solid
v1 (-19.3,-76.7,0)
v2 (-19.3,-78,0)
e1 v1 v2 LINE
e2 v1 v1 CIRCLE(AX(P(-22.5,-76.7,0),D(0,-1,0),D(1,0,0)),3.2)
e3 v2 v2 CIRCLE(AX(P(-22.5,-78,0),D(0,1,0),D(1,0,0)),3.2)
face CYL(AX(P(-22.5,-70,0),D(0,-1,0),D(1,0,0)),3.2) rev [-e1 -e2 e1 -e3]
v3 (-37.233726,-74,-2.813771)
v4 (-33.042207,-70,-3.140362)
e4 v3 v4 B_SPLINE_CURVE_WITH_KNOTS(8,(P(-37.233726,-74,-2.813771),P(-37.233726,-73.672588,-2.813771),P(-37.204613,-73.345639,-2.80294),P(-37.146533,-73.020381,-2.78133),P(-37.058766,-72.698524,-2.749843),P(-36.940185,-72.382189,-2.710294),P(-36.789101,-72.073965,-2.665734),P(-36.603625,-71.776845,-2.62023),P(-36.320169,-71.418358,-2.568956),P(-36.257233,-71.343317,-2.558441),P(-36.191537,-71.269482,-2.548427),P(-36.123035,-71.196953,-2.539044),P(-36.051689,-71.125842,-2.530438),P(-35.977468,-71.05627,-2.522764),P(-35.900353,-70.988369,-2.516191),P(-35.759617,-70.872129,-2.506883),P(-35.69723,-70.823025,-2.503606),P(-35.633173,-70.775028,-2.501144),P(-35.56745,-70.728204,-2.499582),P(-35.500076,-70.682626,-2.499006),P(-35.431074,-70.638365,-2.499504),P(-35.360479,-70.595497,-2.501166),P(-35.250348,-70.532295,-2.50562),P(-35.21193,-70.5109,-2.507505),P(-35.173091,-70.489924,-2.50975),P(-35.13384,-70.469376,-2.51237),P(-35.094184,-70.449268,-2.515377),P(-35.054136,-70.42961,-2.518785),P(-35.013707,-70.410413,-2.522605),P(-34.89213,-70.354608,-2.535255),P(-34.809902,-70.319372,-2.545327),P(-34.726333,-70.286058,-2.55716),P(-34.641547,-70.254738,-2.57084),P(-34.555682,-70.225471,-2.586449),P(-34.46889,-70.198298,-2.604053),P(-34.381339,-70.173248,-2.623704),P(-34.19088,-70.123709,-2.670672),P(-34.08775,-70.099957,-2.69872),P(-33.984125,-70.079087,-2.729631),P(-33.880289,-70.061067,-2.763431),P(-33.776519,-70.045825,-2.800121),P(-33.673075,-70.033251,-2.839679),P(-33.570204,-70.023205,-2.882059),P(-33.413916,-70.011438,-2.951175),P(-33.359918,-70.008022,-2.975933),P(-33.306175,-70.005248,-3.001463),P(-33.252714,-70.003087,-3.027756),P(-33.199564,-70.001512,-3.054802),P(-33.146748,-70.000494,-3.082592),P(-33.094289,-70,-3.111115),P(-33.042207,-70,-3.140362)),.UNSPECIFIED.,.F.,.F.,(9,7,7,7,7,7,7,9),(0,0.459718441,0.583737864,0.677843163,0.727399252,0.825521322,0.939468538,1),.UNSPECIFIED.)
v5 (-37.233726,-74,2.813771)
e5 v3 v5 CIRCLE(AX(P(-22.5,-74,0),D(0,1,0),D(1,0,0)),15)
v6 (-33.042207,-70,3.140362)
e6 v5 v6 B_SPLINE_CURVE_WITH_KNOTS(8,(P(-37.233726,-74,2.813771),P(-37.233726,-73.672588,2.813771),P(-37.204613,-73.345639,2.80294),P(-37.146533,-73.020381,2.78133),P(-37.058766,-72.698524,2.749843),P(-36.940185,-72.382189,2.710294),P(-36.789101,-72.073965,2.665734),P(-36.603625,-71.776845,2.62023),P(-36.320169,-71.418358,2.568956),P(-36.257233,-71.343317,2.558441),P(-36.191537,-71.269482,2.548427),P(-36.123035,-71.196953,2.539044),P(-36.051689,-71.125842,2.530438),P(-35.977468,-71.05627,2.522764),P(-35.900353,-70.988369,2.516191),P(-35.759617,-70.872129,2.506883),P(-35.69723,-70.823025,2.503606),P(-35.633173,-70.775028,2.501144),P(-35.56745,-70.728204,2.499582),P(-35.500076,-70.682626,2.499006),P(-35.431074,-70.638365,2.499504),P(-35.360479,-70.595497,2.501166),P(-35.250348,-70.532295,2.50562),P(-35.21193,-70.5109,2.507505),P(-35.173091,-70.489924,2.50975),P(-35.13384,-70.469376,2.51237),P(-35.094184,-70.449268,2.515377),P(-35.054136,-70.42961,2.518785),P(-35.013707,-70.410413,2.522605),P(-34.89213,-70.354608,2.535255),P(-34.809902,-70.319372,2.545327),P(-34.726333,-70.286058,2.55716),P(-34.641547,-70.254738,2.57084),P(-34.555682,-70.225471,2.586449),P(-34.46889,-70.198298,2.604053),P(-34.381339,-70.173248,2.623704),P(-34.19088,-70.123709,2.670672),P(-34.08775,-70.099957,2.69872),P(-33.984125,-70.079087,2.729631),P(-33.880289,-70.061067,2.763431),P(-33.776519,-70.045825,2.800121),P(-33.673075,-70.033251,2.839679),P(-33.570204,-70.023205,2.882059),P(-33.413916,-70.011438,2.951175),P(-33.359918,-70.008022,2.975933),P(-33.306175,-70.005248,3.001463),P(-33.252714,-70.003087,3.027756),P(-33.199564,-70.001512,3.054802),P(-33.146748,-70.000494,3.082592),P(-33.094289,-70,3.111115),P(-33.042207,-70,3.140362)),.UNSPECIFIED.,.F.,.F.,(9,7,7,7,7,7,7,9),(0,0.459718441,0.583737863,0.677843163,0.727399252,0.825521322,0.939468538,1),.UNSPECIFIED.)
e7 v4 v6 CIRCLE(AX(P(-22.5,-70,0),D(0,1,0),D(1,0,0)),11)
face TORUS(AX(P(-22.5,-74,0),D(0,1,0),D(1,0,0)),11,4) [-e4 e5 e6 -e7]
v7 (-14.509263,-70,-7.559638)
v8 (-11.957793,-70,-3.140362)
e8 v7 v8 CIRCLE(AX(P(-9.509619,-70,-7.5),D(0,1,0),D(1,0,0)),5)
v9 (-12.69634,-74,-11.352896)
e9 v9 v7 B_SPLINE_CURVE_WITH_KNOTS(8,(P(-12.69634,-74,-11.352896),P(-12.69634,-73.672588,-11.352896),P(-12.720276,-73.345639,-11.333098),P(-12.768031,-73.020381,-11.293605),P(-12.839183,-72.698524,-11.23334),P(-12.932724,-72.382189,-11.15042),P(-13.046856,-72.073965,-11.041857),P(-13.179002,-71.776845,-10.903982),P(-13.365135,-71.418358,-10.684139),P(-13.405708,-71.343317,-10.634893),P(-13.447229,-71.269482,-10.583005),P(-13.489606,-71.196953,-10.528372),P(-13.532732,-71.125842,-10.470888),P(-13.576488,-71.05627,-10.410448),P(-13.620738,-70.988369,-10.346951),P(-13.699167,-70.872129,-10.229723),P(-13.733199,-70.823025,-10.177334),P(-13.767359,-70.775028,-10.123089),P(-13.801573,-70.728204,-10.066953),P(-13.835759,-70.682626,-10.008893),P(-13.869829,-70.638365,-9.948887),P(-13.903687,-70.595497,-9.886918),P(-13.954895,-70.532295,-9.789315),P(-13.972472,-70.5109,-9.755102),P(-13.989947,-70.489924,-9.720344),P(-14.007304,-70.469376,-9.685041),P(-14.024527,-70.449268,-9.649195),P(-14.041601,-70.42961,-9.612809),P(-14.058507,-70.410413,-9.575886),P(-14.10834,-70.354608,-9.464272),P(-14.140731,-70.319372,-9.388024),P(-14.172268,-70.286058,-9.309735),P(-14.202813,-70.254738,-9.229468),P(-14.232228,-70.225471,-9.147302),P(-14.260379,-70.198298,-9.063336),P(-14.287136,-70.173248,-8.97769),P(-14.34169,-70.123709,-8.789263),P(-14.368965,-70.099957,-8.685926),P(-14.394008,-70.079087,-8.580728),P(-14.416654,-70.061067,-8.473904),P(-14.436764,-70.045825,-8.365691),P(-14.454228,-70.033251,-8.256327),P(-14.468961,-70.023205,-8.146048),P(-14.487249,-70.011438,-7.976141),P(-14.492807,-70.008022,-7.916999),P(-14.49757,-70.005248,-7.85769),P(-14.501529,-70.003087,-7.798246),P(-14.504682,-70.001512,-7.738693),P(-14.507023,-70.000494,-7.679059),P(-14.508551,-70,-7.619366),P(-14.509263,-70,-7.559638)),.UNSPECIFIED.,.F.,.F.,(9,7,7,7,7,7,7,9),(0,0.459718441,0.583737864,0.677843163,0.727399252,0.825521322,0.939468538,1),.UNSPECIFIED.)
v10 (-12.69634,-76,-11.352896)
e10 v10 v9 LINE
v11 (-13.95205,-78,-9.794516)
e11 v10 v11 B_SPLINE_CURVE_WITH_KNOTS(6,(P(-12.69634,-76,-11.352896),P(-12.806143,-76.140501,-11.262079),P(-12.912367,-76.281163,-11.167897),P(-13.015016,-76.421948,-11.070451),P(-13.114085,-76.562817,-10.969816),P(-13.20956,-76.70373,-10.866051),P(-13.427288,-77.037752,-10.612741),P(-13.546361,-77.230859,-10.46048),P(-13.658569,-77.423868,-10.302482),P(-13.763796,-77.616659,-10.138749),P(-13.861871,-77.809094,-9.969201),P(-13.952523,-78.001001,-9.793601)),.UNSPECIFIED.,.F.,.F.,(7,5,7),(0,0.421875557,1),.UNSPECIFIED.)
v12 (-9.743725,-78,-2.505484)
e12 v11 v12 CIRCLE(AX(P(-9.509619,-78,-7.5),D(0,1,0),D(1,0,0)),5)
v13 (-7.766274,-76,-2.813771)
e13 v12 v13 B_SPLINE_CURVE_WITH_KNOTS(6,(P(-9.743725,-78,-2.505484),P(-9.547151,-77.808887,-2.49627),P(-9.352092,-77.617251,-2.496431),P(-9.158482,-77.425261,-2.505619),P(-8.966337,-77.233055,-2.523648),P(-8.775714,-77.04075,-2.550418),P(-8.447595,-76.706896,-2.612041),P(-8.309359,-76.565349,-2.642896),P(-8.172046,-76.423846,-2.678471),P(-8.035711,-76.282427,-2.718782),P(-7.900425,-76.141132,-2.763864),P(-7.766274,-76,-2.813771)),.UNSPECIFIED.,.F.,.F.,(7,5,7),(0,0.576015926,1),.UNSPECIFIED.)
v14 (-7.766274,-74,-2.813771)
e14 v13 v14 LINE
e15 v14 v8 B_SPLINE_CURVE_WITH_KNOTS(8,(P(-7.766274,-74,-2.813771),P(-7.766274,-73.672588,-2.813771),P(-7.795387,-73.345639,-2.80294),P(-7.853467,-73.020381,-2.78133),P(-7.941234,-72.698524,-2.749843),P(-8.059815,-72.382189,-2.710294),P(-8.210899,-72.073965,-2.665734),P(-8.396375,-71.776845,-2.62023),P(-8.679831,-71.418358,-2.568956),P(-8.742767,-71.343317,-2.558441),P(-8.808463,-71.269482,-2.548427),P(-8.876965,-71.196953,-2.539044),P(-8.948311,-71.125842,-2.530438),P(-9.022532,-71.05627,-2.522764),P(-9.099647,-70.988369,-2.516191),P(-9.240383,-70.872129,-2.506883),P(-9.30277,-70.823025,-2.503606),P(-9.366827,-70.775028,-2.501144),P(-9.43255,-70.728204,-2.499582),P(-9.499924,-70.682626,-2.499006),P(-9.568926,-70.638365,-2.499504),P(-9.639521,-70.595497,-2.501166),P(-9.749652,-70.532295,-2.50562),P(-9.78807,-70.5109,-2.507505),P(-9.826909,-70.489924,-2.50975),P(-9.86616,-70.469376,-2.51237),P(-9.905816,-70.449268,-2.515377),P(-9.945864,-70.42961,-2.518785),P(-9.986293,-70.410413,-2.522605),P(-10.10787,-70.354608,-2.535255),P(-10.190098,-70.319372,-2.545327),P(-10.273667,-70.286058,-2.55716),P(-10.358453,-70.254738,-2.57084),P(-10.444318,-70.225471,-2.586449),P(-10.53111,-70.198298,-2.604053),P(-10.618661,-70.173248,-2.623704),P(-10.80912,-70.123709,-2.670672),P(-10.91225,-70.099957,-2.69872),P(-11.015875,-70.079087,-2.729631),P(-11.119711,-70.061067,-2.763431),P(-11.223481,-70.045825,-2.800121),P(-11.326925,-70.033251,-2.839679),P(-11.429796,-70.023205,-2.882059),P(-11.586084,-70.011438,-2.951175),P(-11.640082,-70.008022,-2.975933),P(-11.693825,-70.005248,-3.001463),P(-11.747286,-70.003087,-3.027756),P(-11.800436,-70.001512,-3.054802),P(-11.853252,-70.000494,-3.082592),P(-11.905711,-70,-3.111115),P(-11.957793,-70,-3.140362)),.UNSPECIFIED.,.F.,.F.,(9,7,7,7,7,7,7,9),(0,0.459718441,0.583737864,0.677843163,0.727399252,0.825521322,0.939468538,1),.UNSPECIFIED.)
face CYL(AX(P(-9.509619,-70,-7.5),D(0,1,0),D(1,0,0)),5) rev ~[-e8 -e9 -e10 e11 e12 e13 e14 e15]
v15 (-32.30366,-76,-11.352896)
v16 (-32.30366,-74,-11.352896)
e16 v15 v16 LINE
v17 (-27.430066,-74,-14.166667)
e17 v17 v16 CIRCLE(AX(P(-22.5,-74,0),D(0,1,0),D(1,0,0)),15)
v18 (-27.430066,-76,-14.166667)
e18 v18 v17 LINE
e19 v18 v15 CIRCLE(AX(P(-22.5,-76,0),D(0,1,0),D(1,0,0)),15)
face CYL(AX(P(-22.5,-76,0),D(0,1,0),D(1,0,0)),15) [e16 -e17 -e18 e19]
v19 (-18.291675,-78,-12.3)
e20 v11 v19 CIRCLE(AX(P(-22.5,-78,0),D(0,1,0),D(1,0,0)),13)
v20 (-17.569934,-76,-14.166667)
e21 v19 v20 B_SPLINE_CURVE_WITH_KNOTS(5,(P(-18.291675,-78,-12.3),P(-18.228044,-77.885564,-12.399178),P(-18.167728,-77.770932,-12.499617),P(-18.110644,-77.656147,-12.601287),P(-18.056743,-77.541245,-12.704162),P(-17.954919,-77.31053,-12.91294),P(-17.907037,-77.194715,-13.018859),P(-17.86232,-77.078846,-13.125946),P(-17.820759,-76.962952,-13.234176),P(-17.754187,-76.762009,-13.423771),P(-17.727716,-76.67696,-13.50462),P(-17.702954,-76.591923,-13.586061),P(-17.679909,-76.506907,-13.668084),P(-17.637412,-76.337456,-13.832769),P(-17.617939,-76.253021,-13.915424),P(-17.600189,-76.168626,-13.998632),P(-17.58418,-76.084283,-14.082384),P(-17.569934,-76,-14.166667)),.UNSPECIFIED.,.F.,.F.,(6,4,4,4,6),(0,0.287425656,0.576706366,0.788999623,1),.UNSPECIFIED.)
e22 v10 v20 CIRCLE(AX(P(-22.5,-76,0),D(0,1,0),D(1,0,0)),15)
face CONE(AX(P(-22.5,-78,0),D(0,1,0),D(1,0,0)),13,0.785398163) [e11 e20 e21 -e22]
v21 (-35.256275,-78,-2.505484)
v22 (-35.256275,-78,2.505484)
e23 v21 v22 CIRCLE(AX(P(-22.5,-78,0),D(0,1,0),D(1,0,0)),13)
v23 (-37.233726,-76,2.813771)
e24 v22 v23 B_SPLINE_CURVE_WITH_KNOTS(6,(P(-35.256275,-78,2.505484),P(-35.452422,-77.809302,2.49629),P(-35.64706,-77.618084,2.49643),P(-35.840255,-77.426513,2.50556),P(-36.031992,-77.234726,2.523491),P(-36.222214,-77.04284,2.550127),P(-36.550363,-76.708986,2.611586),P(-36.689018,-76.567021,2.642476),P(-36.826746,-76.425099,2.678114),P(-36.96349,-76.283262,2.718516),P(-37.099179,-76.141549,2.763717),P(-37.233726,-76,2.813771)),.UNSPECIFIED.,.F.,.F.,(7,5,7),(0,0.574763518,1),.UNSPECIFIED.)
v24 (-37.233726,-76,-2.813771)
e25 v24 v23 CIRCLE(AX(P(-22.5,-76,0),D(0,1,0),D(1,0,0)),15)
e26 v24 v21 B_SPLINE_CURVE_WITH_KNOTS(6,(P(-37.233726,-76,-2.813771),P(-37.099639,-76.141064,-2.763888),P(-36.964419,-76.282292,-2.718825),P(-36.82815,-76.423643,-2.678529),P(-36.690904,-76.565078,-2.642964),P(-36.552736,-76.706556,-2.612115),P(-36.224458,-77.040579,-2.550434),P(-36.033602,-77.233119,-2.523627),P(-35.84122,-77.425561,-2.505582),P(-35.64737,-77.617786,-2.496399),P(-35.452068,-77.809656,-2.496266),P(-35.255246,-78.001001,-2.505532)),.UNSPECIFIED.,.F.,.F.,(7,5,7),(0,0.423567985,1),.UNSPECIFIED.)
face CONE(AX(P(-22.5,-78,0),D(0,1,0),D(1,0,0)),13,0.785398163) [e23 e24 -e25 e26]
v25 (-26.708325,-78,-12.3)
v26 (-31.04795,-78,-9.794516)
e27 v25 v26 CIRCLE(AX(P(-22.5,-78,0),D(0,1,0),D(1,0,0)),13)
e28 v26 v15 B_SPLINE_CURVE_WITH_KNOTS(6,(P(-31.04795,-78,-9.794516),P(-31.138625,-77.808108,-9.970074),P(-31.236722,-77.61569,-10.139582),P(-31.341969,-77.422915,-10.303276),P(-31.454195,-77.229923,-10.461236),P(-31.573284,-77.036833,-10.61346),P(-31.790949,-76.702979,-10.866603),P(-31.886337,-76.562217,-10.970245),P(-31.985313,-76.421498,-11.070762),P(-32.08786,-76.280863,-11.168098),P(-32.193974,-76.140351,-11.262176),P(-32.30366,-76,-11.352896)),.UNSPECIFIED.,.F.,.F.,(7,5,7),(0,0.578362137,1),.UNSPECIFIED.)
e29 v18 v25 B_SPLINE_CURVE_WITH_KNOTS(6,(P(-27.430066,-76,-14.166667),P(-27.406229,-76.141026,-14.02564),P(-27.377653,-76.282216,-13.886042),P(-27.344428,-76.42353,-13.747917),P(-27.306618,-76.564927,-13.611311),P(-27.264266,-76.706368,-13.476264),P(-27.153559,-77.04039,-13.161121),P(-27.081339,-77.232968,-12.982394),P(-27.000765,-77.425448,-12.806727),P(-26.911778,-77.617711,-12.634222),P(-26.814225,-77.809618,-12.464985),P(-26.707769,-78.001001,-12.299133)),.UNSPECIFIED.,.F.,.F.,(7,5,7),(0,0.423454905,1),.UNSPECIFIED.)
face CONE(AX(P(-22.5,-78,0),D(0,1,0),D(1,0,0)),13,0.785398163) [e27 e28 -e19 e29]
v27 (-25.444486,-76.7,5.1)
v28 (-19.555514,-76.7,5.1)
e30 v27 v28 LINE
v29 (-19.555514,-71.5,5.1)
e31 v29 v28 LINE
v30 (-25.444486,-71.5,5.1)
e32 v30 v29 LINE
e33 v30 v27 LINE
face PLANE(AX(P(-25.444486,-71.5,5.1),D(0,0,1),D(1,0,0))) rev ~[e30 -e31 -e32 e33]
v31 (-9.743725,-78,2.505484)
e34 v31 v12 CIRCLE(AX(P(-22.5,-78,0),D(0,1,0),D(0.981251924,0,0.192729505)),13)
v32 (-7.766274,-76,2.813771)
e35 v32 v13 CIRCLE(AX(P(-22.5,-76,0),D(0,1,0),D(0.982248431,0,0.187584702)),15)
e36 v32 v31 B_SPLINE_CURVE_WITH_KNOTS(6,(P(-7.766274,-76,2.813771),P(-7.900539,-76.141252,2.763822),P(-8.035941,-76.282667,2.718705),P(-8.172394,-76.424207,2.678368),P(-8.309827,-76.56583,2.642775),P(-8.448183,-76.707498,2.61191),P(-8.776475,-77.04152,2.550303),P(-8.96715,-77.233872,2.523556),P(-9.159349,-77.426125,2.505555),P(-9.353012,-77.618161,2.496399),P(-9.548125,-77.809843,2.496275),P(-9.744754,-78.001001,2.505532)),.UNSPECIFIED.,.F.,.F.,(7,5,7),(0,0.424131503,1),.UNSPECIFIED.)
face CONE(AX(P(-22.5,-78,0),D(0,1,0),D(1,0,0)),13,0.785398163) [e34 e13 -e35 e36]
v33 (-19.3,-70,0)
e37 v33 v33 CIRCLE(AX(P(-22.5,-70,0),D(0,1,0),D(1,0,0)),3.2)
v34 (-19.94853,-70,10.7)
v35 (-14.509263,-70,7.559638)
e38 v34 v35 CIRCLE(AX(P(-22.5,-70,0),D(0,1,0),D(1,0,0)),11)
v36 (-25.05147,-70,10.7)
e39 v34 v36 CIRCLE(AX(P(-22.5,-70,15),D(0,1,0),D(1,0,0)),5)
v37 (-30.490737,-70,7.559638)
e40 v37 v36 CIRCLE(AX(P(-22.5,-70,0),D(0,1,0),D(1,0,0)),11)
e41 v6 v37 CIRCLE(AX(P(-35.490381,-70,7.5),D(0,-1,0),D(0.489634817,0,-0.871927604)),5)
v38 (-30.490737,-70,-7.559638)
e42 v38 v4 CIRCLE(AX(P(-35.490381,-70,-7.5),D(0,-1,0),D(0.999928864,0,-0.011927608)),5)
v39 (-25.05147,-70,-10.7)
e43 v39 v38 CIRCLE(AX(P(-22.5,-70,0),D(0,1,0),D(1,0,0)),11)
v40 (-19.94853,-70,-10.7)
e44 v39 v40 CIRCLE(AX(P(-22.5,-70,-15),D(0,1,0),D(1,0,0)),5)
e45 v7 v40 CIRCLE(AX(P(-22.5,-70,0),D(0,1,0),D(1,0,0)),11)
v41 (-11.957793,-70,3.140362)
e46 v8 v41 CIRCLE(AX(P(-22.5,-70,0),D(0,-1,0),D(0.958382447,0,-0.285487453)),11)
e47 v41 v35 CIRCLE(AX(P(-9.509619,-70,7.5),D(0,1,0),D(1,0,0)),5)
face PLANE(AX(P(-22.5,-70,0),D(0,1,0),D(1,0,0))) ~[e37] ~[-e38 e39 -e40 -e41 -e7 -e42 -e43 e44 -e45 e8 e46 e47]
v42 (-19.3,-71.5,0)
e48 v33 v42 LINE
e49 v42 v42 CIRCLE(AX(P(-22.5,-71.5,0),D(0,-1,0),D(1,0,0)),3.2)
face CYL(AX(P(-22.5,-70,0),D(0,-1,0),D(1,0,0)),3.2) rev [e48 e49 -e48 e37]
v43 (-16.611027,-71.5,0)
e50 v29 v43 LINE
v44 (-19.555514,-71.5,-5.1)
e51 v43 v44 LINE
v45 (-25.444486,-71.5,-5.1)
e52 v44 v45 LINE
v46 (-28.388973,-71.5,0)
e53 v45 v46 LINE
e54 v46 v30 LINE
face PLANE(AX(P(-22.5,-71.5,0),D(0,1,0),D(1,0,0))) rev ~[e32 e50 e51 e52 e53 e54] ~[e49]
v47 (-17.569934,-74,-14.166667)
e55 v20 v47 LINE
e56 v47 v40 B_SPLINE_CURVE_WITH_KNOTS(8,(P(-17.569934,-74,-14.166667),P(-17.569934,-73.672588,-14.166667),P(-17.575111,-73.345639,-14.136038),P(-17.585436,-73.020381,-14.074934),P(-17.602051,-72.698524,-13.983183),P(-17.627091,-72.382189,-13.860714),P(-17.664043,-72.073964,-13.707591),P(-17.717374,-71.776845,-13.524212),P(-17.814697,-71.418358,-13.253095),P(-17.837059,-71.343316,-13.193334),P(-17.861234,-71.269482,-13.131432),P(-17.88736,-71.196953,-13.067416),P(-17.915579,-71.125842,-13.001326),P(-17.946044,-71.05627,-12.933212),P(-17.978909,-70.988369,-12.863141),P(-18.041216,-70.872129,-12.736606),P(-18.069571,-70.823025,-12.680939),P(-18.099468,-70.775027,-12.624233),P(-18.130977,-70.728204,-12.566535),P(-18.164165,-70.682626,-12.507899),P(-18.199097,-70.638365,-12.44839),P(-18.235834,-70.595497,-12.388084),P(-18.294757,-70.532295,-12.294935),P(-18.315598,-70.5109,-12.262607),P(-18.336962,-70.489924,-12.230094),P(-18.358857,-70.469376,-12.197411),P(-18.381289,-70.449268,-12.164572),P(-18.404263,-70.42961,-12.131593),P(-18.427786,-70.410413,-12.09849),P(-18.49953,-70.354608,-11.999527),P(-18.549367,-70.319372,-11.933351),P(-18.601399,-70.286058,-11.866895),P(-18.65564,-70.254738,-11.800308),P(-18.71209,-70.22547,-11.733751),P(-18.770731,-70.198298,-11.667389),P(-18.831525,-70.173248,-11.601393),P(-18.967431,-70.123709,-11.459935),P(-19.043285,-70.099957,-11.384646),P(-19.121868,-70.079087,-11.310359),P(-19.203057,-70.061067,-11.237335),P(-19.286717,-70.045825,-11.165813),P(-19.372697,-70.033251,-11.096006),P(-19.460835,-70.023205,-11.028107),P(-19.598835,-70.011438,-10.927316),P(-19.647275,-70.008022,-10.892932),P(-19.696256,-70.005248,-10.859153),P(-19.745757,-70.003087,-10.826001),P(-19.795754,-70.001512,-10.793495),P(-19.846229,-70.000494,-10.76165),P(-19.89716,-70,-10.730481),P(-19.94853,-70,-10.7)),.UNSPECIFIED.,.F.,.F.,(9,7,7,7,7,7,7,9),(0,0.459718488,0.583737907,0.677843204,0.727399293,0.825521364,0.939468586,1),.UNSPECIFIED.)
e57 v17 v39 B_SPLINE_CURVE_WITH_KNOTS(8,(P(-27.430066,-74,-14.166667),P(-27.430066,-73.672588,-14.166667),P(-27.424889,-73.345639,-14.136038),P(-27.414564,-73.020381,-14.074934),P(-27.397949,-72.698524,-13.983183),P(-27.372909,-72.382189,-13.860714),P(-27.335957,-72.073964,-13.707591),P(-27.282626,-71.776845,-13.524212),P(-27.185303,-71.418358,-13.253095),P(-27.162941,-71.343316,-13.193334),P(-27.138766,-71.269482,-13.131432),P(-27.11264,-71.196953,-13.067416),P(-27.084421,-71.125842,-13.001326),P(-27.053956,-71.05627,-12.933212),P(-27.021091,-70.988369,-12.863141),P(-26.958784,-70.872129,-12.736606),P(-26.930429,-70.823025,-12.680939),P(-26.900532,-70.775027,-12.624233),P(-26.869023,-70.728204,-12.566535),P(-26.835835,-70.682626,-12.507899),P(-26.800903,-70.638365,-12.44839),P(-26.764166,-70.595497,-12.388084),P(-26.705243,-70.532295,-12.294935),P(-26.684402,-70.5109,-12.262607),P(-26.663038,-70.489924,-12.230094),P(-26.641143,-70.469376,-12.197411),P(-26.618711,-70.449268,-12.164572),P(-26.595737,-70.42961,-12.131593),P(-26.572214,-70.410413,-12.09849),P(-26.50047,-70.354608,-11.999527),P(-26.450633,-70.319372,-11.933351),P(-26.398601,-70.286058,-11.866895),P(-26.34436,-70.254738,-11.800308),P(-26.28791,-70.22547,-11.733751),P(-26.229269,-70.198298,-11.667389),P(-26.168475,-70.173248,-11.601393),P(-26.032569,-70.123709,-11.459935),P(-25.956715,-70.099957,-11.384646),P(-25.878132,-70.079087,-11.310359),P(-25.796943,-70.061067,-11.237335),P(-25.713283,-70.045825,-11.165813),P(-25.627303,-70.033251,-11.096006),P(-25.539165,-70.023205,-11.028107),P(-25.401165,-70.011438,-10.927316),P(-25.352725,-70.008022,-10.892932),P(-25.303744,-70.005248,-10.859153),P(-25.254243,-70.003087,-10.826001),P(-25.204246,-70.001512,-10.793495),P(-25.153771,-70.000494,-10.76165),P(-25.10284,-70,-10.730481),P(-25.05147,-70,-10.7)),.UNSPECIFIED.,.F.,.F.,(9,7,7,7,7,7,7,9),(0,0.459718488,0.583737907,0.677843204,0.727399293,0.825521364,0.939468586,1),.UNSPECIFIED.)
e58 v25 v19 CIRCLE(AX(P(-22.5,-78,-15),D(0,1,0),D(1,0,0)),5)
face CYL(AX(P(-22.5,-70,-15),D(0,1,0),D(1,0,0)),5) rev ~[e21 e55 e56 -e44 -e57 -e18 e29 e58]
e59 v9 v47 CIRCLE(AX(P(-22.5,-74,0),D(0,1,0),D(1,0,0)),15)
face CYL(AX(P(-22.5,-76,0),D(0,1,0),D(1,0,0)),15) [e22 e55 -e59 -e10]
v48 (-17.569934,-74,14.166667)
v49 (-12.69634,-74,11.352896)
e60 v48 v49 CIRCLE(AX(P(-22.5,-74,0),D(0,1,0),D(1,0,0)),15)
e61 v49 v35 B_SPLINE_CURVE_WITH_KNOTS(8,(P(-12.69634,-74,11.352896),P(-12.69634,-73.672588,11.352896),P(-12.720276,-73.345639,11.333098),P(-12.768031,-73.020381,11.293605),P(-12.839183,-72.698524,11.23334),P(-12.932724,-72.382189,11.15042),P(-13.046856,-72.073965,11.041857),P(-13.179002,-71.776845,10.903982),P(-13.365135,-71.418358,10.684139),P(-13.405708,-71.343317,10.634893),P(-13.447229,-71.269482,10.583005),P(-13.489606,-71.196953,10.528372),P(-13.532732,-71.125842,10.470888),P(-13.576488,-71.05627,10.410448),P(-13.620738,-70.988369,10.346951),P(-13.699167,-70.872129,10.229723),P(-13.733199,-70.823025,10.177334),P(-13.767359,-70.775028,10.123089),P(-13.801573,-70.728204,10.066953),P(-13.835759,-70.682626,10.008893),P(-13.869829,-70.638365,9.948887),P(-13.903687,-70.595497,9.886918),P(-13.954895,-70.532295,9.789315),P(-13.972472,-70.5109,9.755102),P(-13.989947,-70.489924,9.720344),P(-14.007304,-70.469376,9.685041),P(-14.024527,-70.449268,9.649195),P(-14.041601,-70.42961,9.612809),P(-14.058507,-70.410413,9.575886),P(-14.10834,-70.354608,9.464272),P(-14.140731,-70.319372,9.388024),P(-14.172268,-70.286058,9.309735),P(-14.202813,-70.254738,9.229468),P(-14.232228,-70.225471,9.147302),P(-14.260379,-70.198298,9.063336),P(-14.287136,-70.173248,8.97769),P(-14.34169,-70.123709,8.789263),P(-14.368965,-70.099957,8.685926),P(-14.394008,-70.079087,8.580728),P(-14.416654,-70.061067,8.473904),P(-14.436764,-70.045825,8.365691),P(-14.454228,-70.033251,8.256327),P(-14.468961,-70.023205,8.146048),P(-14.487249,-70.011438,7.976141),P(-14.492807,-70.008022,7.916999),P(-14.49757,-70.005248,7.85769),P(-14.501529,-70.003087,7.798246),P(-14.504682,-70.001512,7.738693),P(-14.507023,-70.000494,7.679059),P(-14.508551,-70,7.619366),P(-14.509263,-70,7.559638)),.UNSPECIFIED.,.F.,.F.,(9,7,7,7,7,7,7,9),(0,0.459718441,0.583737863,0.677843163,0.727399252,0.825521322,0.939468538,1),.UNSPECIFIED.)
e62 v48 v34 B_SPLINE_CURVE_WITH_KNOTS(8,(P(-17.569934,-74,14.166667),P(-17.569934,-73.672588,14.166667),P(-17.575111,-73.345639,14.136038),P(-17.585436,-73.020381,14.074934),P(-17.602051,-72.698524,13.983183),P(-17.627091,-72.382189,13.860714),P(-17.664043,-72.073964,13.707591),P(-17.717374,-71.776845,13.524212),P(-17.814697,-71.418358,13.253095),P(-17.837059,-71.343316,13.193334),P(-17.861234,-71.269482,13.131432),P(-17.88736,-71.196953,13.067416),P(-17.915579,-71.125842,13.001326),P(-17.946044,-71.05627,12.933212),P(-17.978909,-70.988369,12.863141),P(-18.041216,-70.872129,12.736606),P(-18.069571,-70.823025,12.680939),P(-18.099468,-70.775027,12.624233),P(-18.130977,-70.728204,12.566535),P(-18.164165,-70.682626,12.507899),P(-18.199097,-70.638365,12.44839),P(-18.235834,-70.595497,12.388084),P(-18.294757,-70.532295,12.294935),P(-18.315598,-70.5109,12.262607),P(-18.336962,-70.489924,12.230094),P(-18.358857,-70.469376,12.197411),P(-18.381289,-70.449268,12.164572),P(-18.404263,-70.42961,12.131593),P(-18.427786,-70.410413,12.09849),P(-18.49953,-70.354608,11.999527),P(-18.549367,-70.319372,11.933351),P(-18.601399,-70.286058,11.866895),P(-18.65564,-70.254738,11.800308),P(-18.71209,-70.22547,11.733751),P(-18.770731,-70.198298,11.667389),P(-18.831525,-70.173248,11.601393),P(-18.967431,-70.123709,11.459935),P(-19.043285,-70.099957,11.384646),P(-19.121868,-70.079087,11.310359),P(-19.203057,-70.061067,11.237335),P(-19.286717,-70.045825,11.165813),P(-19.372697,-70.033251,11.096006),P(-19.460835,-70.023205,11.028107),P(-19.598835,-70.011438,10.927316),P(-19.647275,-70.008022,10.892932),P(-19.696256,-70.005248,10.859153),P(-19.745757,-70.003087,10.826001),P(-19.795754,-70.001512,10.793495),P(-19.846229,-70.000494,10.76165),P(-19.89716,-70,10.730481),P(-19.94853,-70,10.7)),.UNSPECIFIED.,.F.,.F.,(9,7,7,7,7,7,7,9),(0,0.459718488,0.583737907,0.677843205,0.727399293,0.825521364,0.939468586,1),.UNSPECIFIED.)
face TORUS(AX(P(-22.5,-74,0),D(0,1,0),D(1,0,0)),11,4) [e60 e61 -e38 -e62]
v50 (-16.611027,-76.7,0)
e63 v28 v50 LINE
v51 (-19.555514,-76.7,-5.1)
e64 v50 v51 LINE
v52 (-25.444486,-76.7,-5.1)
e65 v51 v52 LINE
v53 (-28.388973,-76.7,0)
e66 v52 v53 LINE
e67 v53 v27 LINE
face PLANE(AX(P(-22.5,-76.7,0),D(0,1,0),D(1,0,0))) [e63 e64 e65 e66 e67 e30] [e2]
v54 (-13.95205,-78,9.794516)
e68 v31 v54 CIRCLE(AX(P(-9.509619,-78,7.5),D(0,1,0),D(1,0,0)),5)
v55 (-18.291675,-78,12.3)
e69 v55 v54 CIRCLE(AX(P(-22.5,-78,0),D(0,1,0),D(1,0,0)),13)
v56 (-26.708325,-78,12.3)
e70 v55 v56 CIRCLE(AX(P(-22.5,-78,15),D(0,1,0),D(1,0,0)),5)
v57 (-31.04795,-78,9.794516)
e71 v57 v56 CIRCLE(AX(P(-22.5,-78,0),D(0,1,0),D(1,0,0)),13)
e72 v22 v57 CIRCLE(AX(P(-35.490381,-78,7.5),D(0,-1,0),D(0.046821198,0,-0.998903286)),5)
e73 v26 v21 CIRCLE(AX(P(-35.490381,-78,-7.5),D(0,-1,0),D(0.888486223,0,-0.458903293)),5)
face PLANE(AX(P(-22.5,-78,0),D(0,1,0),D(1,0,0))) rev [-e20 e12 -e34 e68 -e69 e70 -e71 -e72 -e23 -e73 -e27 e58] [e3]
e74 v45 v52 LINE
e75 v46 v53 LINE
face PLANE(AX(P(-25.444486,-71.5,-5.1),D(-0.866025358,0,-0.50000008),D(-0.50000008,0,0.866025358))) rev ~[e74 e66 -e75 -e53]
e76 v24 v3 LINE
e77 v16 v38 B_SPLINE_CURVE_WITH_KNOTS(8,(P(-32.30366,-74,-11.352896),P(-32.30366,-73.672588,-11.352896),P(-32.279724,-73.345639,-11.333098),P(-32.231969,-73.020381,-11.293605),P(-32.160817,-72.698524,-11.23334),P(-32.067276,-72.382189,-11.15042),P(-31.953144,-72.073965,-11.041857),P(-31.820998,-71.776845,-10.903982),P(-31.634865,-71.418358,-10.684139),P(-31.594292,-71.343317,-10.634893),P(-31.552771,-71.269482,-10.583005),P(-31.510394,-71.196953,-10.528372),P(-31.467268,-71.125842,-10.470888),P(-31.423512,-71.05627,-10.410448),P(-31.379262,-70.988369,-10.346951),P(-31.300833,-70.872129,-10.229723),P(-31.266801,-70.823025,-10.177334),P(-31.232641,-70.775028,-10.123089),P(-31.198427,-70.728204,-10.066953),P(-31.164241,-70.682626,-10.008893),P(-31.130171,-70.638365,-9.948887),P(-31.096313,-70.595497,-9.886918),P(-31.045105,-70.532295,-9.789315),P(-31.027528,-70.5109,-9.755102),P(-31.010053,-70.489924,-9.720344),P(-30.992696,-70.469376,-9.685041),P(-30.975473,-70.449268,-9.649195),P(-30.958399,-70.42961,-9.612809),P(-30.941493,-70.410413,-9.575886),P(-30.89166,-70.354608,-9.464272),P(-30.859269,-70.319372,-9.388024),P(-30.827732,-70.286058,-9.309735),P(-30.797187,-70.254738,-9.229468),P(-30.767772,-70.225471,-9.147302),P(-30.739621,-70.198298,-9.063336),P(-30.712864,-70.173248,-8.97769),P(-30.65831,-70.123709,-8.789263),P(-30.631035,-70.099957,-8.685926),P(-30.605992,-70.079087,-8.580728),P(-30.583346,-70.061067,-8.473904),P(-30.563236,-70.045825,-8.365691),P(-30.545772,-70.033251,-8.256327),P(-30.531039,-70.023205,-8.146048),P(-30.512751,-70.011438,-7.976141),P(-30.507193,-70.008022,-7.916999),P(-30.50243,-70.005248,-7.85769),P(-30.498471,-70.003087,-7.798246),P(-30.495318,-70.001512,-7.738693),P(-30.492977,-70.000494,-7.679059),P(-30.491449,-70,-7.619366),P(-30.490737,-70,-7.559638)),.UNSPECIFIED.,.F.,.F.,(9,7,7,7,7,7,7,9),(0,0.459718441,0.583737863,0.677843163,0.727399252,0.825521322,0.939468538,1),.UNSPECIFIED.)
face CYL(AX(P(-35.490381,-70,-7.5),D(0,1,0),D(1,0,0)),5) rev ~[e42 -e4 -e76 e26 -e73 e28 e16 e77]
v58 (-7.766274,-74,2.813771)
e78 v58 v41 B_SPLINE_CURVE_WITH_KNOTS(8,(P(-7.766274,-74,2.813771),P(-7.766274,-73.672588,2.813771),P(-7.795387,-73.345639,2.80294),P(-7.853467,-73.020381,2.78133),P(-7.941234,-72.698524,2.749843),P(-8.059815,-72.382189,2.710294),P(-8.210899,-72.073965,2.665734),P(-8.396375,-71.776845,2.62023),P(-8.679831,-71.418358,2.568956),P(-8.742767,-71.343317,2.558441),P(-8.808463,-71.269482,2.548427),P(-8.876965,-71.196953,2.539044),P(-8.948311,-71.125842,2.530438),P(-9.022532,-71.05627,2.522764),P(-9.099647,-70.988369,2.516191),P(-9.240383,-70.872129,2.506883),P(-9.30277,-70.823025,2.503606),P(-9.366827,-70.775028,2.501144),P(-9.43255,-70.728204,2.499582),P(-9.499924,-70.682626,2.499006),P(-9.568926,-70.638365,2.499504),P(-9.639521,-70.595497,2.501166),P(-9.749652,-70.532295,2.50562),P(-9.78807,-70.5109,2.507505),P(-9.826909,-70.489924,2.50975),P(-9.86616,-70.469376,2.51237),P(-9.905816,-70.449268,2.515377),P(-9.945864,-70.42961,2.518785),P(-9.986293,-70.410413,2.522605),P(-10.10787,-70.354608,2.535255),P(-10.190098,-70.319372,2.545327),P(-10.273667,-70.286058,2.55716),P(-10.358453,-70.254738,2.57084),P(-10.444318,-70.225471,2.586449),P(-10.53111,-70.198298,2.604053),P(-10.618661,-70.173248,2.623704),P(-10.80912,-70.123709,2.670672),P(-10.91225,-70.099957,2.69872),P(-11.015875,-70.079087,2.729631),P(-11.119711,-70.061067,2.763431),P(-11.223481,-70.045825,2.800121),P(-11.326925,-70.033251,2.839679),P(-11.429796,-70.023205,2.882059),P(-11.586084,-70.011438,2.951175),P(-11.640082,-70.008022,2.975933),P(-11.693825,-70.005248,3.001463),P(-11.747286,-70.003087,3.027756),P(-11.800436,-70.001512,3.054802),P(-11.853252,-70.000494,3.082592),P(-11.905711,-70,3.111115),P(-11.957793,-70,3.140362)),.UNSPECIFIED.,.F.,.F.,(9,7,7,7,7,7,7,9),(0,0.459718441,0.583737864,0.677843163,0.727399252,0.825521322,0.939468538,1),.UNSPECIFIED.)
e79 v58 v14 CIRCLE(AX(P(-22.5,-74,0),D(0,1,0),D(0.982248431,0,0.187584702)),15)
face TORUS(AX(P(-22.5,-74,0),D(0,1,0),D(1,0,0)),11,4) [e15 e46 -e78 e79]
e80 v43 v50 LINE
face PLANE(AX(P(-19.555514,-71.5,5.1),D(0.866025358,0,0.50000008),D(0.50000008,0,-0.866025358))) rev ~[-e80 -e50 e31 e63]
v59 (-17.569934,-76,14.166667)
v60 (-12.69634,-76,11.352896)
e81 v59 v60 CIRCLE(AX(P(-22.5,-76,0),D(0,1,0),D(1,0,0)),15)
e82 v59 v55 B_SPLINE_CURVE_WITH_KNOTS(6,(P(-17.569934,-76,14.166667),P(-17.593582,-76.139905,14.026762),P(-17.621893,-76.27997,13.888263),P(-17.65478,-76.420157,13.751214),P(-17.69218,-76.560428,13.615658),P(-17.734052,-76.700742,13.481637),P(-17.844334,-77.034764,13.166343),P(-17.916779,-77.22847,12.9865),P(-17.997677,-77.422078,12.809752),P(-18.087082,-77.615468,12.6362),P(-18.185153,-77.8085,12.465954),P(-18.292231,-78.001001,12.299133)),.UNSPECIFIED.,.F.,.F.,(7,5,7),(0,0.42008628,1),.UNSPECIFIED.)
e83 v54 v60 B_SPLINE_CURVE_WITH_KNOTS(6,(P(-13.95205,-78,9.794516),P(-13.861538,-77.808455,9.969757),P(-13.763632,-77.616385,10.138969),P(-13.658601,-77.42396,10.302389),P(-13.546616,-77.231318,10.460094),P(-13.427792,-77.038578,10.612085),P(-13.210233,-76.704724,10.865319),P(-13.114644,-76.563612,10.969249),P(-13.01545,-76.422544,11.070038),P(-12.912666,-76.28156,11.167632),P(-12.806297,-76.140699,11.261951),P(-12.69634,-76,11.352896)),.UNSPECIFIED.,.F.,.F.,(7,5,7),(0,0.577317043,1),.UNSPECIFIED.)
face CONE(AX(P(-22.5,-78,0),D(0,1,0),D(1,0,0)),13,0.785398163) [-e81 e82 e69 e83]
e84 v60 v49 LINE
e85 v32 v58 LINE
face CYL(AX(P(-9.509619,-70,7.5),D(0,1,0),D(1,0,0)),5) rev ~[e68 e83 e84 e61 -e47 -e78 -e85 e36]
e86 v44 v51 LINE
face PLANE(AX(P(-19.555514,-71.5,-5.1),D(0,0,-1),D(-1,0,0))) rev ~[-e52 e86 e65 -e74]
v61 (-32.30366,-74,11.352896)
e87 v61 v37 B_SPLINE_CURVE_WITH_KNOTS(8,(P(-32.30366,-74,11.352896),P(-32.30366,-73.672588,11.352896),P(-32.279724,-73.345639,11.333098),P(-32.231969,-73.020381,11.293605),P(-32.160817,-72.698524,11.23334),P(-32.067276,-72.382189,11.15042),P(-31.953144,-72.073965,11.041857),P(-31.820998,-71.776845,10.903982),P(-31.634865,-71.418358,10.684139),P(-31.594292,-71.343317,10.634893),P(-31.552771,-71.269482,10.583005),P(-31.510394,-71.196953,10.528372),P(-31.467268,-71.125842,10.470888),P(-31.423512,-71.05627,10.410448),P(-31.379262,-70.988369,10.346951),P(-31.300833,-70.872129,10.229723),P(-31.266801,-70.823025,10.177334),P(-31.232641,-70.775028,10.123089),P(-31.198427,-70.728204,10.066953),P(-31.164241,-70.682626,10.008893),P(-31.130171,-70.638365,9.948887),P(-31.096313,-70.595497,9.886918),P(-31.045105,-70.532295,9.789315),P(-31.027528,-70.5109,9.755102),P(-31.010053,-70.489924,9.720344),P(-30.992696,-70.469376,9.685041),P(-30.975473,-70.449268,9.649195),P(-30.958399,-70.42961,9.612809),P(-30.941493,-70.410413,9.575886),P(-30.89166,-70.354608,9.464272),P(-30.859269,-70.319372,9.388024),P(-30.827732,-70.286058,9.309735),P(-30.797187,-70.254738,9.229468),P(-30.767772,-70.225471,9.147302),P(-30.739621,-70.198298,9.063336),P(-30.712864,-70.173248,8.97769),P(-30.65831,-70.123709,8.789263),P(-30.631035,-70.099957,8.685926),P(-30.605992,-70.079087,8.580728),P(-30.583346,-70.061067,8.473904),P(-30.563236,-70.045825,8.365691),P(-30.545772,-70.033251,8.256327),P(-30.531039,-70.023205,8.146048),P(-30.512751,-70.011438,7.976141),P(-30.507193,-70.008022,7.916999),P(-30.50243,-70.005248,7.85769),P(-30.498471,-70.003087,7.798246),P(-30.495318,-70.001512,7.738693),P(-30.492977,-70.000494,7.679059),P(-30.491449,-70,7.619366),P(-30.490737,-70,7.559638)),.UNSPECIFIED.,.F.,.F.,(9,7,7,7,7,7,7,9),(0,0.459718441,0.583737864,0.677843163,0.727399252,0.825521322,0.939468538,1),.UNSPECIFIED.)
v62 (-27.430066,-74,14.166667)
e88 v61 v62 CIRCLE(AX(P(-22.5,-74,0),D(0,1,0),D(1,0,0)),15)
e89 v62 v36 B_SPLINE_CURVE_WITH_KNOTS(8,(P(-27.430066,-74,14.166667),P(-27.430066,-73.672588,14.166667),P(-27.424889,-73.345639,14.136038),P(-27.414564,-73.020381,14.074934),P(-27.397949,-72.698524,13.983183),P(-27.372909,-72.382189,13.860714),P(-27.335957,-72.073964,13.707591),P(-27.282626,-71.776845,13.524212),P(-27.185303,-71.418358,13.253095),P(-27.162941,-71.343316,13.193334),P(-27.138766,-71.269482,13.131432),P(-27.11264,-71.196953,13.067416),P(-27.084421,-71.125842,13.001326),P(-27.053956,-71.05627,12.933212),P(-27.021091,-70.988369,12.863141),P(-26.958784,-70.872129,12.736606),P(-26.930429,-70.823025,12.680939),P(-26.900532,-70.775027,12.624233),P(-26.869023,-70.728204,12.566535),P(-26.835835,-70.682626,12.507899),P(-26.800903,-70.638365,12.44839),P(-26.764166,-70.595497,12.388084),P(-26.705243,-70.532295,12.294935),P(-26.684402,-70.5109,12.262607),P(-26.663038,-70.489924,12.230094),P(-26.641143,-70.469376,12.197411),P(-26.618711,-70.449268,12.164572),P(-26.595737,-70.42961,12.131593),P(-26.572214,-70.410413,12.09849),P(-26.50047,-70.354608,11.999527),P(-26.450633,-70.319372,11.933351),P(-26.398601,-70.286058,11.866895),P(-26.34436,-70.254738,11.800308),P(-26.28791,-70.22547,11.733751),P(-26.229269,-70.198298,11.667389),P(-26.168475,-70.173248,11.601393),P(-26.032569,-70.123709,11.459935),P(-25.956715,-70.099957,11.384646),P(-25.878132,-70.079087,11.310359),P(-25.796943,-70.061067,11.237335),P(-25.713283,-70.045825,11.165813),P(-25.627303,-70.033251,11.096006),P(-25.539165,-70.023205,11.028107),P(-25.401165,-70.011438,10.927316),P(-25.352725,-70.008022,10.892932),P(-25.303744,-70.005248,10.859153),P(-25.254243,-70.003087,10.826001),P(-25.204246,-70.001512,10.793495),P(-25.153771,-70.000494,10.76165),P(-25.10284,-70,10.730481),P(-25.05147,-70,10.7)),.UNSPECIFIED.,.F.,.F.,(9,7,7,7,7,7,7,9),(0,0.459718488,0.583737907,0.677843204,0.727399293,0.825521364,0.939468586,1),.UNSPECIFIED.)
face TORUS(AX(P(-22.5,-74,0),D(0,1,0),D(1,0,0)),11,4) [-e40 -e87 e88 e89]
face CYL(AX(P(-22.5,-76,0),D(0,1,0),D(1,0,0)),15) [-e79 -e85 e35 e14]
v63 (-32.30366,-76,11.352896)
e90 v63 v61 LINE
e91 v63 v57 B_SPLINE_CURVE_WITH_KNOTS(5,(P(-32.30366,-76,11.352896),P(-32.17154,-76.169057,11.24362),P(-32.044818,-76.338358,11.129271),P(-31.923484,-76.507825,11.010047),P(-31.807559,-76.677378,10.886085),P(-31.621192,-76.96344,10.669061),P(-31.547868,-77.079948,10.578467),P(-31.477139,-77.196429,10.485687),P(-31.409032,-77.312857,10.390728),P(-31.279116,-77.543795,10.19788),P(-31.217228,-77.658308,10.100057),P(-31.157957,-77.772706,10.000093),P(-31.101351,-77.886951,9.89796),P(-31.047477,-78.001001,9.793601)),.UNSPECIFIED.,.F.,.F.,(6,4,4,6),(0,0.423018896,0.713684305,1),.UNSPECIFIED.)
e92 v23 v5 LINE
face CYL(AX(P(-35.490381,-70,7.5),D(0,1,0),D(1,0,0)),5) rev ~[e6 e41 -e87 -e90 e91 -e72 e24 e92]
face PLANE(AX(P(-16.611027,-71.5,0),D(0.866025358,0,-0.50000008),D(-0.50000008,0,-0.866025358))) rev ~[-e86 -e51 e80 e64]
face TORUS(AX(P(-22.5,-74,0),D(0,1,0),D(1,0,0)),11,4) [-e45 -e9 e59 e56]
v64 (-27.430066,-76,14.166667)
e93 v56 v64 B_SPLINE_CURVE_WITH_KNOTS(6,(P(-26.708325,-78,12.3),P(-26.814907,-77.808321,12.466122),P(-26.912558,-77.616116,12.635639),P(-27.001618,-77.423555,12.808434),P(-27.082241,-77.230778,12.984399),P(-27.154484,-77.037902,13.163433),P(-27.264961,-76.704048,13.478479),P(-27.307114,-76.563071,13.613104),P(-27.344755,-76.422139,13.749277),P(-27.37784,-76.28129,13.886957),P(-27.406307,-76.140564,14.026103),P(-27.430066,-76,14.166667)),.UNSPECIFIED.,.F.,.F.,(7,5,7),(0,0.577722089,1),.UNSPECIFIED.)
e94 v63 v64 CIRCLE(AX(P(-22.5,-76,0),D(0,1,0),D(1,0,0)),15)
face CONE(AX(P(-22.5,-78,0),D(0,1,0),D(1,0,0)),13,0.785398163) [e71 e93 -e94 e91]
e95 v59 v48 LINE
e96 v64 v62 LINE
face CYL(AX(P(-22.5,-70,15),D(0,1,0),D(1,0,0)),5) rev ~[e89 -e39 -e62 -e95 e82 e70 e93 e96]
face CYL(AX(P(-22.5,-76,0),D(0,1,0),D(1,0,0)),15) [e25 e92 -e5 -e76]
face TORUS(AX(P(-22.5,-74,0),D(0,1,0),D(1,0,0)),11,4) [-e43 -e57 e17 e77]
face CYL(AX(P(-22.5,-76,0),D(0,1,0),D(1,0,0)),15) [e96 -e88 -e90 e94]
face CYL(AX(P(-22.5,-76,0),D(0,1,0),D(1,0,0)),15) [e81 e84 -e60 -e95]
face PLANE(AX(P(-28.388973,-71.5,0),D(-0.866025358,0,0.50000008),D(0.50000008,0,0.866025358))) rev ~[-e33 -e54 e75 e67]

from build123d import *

# Parameters (mm, degrees)
SKETCH016_R             = 5
POCKET002_DEPTH         = 8.001
POCKET003_DEPTH         = 5.2
BODY011_PLACEMENT_ANGLE = 270


with BuildPart() as part:
    # Sketch014 → Revolution (revolve)
    with BuildSketch(Plane.XZ):
        with BuildLine():
            ThreePointArc((15, -4), (13.828427, -1.171573), (11, 0))
            Line((3.2, 0), (11, 0))
            Line((3.2, 0), (3.2, -8))
            Line((3.2, -8), (13, -8))
            Line((13, -8), (15, -6))
            Line((15, -6), (15, -4))
        make_face()
    revolve(axis=Axis((0, 0, 0), (0, 0, 1)))

    # Sketch016 → Pocket002 (cut, through all)
    with BuildSketch(Plane.XY):
        with Locations((0, 15)):
            Circle(SKETCH016_R)
        with Locations((12.990381, 7.5)):
            Circle(SKETCH016_R)
        with Locations((12.990381, -7.5)):
            Circle(SKETCH016_R)
        with Locations((0, -15)):
            Circle(SKETCH016_R)
        with Locations((-12.990381, -7.5)):
            Circle(SKETCH016_R)
        with Locations((-12.990381, 7.5)):
            Circle(SKETCH016_R)
    extrude(amount=-POCKET002_DEPTH, mode=Mode.SUBTRACT)

    # Sketch015 → Pocket003 (cut)
    with BuildSketch(Plane.XY.offset(-1.5)):
        Polygon((5.888973, 0), (2.944486, 5.1), (-2.944486, 5.1), (-5.888973, 0), (-2.944486, -5.1), (2.944486, -5.1), align=None)
    extrude(amount=-POCKET003_DEPTH, mode=Mode.SUBTRACT)


with BuildPart() as part_1:
    # Body011 placement: moved
    add(part.part.moved(Location((22.5, -70, 0))).rotate(Axis((22.5, -70, 0), (1, 0, 0)), BODY011_PLACEMENT_ANGLE))


with BuildPart() as part_2:
    # Clone006 placement: moved
    add(part_1.part.moved(Location((-45, 0, 0))))


solid = part_2.part
